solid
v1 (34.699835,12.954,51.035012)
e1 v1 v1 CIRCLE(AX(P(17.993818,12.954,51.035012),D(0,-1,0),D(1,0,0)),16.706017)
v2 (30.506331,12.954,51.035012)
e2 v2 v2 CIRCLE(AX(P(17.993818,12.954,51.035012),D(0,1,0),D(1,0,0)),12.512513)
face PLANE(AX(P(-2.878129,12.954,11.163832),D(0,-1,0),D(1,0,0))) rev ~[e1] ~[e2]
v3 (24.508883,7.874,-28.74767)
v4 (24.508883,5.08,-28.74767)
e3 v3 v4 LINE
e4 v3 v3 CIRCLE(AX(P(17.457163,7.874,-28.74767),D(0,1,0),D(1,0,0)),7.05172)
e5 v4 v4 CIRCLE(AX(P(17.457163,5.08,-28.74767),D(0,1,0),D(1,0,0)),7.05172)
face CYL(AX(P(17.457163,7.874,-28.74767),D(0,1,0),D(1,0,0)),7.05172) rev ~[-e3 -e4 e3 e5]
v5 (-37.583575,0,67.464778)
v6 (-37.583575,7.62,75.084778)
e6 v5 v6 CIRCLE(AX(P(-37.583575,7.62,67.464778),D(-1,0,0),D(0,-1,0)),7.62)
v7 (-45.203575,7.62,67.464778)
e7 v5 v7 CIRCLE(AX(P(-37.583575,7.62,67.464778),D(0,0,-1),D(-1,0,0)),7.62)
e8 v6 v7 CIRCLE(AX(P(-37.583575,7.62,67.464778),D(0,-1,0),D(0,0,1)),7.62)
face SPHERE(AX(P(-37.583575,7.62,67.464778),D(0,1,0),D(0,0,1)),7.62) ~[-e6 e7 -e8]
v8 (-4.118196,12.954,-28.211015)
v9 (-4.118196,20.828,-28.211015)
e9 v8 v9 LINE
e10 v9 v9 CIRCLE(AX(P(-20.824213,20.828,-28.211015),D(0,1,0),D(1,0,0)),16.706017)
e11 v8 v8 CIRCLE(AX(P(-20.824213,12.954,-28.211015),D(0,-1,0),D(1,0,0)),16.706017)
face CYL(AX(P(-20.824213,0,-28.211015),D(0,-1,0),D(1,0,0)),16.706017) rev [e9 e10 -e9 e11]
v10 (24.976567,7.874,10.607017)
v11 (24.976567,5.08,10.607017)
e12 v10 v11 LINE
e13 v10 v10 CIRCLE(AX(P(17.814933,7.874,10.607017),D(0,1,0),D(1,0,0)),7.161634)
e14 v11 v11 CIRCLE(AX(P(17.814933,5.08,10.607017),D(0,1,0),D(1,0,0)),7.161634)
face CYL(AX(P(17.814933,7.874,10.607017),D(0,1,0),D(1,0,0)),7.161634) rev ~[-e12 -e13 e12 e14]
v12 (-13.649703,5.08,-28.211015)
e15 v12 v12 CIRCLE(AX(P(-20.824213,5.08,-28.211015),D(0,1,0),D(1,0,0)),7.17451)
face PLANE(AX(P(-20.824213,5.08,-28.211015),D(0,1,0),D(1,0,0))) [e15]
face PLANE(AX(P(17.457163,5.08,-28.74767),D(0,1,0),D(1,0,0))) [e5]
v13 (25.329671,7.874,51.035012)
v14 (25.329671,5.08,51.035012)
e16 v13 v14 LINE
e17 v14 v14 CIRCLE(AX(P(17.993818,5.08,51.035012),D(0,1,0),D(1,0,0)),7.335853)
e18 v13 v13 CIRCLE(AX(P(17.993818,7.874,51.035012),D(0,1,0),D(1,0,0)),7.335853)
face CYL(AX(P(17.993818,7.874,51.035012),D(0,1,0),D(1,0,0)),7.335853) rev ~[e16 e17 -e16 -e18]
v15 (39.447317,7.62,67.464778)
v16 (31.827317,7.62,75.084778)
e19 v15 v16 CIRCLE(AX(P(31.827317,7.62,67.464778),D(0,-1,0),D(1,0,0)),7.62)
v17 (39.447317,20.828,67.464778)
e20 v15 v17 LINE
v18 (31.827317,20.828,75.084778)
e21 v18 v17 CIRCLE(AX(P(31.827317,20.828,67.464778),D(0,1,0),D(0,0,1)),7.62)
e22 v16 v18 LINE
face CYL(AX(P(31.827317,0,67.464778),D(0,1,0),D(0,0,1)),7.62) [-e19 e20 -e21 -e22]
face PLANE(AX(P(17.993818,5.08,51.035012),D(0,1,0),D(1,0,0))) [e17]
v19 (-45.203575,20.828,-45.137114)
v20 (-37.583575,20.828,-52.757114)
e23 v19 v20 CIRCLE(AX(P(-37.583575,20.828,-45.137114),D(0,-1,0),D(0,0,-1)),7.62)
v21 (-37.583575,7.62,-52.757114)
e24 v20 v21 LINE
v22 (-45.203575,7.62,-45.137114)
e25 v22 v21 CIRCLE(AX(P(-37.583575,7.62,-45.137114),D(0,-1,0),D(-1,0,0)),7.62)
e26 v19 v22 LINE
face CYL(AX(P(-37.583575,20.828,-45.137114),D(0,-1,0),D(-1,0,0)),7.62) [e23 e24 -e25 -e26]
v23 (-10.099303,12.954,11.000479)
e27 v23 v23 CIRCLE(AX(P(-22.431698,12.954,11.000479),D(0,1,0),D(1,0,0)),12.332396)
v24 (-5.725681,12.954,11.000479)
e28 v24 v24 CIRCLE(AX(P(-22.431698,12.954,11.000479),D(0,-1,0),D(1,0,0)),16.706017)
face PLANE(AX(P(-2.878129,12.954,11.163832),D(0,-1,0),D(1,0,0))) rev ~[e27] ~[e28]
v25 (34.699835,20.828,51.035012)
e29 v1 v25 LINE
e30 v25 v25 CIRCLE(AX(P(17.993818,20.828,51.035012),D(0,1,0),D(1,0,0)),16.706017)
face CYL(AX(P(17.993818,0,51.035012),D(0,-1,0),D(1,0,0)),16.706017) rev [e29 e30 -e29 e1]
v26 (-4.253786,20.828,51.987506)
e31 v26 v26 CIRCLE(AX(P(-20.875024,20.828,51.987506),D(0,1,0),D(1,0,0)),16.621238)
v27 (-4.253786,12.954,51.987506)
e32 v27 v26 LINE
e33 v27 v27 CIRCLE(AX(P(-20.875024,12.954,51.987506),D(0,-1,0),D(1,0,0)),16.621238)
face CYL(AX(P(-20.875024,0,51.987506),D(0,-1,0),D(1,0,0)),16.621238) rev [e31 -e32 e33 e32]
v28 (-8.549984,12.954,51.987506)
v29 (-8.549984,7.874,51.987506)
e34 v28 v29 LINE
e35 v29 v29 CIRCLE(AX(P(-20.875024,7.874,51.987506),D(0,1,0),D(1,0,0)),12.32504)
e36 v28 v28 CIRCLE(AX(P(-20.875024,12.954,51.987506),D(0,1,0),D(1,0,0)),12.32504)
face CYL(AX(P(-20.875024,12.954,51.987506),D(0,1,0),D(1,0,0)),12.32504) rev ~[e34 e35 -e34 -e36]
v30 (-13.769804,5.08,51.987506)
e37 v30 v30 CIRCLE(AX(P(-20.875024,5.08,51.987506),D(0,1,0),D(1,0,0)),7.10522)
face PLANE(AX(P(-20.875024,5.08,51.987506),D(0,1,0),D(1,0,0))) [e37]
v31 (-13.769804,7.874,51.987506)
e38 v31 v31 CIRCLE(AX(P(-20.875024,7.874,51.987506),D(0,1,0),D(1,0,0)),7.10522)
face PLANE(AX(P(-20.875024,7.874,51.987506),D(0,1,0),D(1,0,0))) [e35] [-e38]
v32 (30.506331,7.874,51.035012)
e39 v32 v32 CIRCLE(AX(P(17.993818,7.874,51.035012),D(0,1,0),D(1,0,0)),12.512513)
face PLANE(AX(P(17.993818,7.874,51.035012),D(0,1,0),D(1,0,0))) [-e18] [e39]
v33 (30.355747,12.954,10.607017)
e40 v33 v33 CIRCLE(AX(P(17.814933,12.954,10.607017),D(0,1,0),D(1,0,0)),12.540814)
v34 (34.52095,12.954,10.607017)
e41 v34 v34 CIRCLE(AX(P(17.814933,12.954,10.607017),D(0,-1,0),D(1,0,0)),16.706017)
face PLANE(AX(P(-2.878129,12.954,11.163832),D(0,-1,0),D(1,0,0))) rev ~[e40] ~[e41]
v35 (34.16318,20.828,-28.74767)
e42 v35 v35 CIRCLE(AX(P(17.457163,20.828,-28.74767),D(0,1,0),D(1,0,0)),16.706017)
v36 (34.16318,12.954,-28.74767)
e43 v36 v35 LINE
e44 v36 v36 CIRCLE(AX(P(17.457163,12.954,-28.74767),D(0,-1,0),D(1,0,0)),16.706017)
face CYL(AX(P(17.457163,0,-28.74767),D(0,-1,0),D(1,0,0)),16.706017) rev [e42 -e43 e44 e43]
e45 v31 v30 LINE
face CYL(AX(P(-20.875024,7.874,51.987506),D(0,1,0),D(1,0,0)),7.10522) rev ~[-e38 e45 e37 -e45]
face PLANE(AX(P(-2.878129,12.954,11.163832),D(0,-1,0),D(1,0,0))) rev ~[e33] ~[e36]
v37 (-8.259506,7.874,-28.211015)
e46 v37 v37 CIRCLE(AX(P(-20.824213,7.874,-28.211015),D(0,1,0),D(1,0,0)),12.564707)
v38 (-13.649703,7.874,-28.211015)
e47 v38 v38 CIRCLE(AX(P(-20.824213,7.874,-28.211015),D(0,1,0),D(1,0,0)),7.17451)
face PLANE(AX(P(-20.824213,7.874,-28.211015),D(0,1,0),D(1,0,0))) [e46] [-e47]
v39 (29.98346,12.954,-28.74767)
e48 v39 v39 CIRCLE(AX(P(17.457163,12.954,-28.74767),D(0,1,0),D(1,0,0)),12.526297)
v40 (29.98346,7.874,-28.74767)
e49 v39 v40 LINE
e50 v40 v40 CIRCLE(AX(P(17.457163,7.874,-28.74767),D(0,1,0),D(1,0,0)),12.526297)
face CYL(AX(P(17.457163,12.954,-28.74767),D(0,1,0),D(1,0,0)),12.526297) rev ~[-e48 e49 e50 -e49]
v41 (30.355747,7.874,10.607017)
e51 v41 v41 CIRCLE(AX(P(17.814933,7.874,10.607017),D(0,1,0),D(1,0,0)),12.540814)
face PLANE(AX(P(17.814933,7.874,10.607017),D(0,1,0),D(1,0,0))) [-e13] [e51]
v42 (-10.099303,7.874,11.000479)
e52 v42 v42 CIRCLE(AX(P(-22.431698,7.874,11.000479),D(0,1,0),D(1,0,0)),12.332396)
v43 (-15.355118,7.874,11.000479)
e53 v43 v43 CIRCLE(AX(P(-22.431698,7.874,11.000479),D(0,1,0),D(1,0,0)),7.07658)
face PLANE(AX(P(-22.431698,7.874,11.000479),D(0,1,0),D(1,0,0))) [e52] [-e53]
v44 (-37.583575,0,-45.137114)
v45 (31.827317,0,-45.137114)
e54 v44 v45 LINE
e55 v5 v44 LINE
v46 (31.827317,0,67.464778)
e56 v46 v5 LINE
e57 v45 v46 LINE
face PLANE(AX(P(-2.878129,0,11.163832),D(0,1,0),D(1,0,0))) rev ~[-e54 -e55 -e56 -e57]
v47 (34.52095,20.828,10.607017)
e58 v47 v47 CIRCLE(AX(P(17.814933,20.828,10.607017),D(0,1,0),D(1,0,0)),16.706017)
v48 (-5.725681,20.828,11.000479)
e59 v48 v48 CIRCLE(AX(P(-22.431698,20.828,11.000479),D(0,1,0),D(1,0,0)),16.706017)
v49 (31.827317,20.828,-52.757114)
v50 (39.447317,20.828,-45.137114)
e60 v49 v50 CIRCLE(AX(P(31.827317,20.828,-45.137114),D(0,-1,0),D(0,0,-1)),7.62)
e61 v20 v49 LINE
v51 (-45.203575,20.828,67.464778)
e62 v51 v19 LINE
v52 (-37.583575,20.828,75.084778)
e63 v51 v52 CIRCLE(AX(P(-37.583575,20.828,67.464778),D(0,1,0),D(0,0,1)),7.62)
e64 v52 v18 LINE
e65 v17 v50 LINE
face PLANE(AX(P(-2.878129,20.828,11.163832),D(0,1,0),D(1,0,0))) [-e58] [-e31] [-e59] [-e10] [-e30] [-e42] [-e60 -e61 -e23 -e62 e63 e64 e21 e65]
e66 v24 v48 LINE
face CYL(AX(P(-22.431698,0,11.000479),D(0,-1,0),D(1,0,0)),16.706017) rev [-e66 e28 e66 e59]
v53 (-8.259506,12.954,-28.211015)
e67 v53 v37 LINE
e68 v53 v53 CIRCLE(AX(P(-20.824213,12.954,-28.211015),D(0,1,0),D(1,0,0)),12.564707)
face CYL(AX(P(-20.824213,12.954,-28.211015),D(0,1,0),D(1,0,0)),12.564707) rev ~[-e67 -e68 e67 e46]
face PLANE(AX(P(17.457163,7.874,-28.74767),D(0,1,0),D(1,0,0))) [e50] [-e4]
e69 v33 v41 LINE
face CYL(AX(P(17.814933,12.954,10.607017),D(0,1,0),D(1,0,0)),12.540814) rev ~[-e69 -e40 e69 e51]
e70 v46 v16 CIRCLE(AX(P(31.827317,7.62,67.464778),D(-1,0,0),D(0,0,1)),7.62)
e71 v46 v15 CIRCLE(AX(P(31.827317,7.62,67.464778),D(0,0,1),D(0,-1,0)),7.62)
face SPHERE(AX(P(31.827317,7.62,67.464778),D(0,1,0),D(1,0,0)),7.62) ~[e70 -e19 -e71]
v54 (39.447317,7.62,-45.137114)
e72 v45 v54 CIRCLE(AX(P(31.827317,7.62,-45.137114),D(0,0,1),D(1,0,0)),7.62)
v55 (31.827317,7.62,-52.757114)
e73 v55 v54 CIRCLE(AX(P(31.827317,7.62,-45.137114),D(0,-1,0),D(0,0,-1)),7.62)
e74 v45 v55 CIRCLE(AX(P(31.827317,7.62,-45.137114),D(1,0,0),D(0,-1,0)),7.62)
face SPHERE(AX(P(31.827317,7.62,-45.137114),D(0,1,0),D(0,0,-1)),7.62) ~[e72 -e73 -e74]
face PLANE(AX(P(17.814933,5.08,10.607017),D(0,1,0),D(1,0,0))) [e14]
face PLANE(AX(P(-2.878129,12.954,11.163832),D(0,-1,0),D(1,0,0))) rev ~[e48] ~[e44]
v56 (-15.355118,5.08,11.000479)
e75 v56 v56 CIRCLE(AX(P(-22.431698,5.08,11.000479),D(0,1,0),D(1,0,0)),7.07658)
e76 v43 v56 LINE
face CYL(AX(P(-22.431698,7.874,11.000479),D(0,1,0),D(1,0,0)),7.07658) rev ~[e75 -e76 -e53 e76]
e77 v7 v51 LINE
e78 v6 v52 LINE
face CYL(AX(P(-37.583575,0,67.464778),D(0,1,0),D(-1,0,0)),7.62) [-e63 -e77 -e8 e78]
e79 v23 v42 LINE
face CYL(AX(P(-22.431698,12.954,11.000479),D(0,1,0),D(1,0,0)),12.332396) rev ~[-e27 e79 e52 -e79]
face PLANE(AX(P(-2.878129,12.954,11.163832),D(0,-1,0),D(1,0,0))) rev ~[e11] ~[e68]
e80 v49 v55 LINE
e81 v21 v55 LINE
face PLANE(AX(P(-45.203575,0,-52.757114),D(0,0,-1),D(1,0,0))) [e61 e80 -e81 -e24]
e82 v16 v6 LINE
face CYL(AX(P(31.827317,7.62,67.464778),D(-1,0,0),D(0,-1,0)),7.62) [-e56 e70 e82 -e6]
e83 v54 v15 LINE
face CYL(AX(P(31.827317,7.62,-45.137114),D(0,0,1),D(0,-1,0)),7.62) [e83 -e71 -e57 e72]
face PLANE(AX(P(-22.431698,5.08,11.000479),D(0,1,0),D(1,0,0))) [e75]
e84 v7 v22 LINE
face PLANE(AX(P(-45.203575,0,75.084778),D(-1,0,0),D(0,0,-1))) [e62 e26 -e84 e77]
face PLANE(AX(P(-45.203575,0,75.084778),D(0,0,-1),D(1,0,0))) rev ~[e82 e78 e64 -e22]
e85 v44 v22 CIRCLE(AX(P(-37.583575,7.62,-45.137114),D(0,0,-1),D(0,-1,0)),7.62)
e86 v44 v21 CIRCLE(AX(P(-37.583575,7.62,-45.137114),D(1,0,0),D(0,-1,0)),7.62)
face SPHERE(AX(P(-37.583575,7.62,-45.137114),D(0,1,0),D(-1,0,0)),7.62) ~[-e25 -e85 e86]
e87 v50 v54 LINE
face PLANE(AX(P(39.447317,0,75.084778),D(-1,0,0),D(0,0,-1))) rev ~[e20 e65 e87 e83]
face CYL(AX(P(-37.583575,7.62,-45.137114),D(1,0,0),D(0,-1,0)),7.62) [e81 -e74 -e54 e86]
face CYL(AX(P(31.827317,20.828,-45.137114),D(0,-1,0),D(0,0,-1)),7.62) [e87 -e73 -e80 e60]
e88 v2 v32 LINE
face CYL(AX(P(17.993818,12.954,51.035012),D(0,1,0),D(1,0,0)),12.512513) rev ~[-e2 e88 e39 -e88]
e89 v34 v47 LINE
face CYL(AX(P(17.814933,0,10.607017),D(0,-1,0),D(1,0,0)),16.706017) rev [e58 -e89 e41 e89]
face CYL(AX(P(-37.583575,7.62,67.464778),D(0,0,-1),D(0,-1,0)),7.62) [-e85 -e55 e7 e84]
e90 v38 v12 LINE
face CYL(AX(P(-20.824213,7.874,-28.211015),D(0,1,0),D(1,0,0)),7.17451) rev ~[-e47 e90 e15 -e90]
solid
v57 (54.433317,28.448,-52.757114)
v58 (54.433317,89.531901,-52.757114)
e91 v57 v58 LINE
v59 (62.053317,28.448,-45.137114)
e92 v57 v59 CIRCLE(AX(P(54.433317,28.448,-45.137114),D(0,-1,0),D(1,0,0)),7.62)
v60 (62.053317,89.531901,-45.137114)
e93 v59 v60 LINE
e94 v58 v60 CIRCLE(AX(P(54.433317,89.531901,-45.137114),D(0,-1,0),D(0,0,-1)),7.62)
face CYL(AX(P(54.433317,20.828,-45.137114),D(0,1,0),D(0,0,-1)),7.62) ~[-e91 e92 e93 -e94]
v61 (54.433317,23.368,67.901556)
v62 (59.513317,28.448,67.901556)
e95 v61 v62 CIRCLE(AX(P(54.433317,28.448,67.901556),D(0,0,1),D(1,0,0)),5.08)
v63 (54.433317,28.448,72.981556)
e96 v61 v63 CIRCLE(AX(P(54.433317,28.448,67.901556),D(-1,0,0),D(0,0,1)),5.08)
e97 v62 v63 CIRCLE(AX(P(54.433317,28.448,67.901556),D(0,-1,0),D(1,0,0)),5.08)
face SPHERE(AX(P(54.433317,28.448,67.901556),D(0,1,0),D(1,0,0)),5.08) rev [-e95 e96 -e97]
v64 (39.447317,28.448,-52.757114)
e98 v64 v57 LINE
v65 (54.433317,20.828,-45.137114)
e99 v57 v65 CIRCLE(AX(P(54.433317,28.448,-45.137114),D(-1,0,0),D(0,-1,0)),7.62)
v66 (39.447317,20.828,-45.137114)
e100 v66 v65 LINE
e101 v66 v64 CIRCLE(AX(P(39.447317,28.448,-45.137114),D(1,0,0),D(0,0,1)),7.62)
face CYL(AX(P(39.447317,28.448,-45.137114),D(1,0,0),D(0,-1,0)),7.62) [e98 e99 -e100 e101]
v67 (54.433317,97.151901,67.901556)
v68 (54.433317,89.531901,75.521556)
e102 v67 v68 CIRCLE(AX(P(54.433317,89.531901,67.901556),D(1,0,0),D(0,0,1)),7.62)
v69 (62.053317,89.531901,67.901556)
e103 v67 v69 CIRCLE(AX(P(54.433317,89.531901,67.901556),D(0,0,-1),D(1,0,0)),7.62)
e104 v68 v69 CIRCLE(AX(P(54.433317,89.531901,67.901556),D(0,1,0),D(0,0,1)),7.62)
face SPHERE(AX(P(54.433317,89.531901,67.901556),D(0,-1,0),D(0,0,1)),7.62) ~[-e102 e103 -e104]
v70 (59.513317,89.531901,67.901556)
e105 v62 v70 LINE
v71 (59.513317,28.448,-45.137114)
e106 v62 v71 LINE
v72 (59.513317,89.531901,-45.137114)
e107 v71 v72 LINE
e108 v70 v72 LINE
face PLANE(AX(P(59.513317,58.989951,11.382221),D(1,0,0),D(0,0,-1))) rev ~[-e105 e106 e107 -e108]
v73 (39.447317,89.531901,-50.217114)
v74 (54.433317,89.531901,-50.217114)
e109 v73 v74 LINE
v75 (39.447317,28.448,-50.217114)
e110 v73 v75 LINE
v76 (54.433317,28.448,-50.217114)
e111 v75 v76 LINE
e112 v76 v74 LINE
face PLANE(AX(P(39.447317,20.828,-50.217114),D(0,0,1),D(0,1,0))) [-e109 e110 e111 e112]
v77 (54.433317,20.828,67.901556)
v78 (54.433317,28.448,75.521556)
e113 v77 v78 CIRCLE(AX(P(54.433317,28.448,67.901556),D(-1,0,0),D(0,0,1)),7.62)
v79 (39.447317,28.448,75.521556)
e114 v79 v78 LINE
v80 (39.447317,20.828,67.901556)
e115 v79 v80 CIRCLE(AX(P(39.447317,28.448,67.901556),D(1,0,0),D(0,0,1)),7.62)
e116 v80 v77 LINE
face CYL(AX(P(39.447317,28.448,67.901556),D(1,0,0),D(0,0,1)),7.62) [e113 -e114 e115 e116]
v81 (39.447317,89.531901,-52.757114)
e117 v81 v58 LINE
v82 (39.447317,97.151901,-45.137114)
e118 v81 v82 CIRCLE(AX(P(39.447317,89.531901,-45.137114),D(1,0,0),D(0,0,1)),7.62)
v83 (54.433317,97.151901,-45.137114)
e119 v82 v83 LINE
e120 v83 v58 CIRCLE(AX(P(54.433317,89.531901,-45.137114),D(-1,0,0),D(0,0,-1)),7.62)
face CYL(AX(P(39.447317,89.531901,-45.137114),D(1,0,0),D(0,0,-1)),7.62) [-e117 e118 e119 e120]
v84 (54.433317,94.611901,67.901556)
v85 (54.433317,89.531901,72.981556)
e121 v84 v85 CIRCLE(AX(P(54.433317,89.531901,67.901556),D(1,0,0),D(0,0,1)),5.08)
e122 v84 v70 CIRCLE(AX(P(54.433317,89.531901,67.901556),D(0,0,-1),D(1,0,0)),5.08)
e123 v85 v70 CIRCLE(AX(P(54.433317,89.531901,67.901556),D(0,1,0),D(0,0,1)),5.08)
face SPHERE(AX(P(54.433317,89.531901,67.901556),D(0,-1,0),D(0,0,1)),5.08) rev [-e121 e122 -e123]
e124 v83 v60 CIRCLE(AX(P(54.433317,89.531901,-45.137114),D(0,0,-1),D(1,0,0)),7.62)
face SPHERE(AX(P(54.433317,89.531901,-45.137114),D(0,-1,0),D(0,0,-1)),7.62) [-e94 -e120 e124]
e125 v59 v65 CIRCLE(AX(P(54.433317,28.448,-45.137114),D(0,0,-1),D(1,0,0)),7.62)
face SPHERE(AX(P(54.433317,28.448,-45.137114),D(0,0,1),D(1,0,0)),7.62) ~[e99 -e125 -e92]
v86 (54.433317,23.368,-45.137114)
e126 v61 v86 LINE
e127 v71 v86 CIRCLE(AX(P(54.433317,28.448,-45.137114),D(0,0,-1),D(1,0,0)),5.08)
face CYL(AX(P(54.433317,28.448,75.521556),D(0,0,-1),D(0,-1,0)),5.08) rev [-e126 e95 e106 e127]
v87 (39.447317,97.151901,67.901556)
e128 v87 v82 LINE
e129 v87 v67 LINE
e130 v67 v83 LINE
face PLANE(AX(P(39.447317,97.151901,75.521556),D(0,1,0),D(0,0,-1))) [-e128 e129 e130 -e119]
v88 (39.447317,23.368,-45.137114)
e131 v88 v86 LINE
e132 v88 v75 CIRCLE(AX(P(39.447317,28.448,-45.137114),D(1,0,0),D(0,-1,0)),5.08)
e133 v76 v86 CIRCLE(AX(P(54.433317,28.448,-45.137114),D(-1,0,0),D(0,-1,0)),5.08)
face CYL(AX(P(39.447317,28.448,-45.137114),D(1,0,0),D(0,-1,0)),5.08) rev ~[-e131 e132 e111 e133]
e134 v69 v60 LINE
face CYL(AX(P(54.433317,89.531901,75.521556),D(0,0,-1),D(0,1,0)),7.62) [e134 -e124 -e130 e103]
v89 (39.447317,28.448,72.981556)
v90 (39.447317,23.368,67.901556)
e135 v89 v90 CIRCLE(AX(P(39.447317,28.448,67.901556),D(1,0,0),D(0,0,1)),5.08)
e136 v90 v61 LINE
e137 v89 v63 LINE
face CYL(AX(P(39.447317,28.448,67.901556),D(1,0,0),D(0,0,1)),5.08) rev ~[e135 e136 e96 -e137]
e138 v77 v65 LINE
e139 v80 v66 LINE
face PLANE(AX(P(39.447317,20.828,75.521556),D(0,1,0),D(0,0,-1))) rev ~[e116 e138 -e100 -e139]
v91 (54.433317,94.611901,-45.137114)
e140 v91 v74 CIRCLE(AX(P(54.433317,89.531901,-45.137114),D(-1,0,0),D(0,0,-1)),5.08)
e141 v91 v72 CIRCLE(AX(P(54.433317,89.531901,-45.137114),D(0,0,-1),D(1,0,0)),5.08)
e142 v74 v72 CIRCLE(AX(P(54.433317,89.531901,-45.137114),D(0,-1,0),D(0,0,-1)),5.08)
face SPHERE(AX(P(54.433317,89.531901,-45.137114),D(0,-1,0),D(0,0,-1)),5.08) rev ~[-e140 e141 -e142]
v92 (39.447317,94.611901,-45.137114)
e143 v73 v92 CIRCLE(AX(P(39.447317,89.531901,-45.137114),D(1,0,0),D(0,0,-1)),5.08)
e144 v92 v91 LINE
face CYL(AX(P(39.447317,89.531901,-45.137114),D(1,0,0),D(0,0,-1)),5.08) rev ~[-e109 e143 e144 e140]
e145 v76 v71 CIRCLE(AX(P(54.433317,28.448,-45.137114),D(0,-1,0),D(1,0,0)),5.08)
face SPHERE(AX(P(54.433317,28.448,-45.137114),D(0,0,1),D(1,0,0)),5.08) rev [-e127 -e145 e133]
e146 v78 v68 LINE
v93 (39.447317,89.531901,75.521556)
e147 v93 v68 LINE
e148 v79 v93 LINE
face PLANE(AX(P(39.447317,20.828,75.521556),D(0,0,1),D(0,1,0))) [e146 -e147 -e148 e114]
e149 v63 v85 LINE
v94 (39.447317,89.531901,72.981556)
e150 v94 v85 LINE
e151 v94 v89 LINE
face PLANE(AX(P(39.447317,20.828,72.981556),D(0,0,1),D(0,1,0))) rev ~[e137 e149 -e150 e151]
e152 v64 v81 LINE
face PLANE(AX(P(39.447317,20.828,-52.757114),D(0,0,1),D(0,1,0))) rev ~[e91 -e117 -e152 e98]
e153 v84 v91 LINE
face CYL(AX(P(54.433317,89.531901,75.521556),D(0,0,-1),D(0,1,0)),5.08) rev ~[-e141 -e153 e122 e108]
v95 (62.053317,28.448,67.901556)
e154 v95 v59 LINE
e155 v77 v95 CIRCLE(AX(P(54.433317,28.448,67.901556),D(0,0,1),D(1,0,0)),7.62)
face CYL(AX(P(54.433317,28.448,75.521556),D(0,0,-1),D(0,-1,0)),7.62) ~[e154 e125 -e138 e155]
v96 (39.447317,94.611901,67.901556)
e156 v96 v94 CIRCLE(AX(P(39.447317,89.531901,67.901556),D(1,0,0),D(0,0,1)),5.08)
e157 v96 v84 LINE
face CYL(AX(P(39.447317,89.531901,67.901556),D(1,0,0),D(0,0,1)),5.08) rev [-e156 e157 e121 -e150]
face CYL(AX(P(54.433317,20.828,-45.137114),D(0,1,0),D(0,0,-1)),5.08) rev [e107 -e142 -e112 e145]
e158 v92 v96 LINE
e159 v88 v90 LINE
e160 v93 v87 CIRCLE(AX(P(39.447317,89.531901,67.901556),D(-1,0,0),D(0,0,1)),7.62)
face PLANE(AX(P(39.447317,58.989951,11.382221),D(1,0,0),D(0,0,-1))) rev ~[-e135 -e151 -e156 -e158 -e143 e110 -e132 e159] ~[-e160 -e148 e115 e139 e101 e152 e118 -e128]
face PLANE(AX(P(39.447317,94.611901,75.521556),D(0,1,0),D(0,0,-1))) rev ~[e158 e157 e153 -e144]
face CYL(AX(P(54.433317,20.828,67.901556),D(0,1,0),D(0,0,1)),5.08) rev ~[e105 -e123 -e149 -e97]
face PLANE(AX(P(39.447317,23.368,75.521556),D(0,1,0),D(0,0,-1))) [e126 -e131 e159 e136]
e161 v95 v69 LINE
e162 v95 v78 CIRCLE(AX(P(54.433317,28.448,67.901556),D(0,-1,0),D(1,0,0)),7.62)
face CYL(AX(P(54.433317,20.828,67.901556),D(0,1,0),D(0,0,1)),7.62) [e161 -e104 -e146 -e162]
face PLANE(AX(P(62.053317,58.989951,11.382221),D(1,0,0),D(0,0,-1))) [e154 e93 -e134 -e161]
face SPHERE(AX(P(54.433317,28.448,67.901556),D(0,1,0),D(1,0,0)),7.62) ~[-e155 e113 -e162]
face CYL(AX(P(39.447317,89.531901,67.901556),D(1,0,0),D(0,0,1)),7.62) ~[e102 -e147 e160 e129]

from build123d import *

# Parameters (mm, degrees)
SKETCH1_W           = 84.650892634
SKETCH1_H           = 127.841891795
SKETCH1_R           = 16.706017138
SKETCH1_R_2         = 16.621238302
BOSS_EXTRUDE3_DEPTH = 20.828
SKETCH3_W           = 84.650892634
SKETCH3_H           = 127.841891795
BOSS_EXTRUDE4_DEPTH = 12.954
SKETCH4_R           = 12.540814035
SKETCH4_R_2         = 12.526296714
SKETCH4_R_3         = 12.564707055
SKETCH4_R_4         = 12.325039909
SKETCH4_R_5         = 12.332395729
SKETCH4_R_6         = 12.512513451
CUT_EXTRUDE1_DEPTH  = 5.08
SKETCH5_R           = 7.17451022
SKETCH5_R_2         = 7.161633978
SKETCH5_R_3         = 7.051719989
SKETCH5_R_4         = 7.07658049
SKETCH5_R_5         = 7.105219729
SKETCH5_R_6         = 7.335853032
CUT_EXTRUDE2_DEPTH  = 2.794
FILLET4_R           = 7.62
FILLET5_R           = 7.62
SKETCH6_W           = 128.278670116
SKETCH6_H           = 76.323901273
BOSS_EXTRUDE5_DEPTH = 22.606
FILLET6_R           = 7.62
SHELL1_T            = -2.54


with BuildPart() as part:
    # Sketch1 → Boss-Extrude3 (new body)
    with BuildSketch(Plane(origin=(0, 0, 0), x_dir=(1, 0, 0), z_dir=(0, 1, 0))):
        with Locations((-2.878129168, -11.163832012)):
            Rectangle(SKETCH1_W, SKETCH1_H)
        with Locations((-22.431698426, -11.000478916)):
            Circle(SKETCH1_R, mode=Mode.SUBTRACT)
        with Locations((17.993817947, -51.035012313)):
            Circle(SKETCH1_R, mode=Mode.SUBTRACT)
        with Locations((-20.875024015, -51.987506281)):
            Circle(SKETCH1_R_2, mode=Mode.SUBTRACT)
        with Locations((17.457163136, 28.74766961)):
            Circle(SKETCH1_R, mode=Mode.SUBTRACT)
        with Locations((17.81493301, -10.60701654)):
            Circle(SKETCH1_R, mode=Mode.SUBTRACT)
        with Locations((-20.824213392, 28.211014799)):
            Circle(SKETCH1_R, mode=Mode.SUBTRACT)
    extrude(amount=BOSS_EXTRUDE3_DEPTH)

    # Sketch3 → Boss-Extrude4 (add)
    with BuildSketch(Plane.XZ):
        with Locations((-2.878129168, 11.163832012)):
            Rectangle(SKETCH3_W, SKETCH3_H)
    extrude(amount=-BOSS_EXTRUDE4_DEPTH)

    # Sketch4 → Cut-Extrude1 (cut)
    with BuildSketch(Plane(origin=(0, 12.954, 0), x_dir=(1, 0, 0), z_dir=(0, 1, 0))):
        with Locations((17.81493301, -10.60701654)):
            Circle(SKETCH4_R)
        with Locations((17.457163136, 28.74766961)):
            Circle(SKETCH4_R_2)
        with Locations((-20.824213392, 28.211014799)):
            Circle(SKETCH4_R_3)
        with Locations((-20.875024015, -51.987506281)):
            Circle(SKETCH4_R_4)
        with Locations((-22.431698426, -11.000478916)):
            Circle(SKETCH4_R_5)
        with Locations((17.993817947, -51.035012313)):
            Circle(SKETCH4_R_6)
    extrude(amount=-CUT_EXTRUDE1_DEPTH, mode=Mode.SUBTRACT)

    # Sketch5 → Cut-Extrude2 (cut)
    with BuildSketch(Plane(origin=(0, 7.874, 0), x_dir=(1, 0, 0), z_dir=(0, 1, 0))):
        with Locations((-20.824213392, 28.211014799)):
            Circle(SKETCH5_R)
        with Locations((17.81493301, -10.60701654)):
            Circle(SKETCH5_R_2)
        with Locations((17.457163136, 28.74766961)):
            Circle(SKETCH5_R_3)
        with Locations((-22.431698426, -11.000478916)):
            Circle(SKETCH5_R_4)
        with Locations((-20.875024015, -51.987506281)):
            Circle(SKETCH5_R_5)
        with Locations((17.993817947, -51.035012313)):
            Circle(SKETCH5_R_6)
    extrude(amount=-CUT_EXTRUDE2_DEPTH, mode=Mode.SUBTRACT)

    # Fillet4
    fillet4_edges = [part.edges().sort_by_distance(p)[0] for p in [
        (-45.203575485, 10.414, -52.757113885),
        (-45.203575485, 10.414, 75.08477791),
        (39.447317149, 10.414, 75.08477791),
        (39.447317149, 10.414, -52.757113885),
    ]]
    fillet(fillet4_edges, radius=FILLET4_R)

    # Fillet5
    fillet5_edges = [part.edges().sort_by_distance(p)[0] for p in [
        (-2.878129168, 0, -52.757113885),
        (39.447317149, 0, 11.163832012),
        (-2.878129168, 0, 75.08477791),
        (-45.203575485, 0, 11.163832012),
        (37.215470822, 0, 72.852931583),
        (-42.971729158, 0, 72.852931583),
        (-42.971729158, 0, -50.525267558),
        (37.215470822, 0, -50.525267558),
    ]]
    fillet(fillet5_edges, radius=FILLET5_R)


with BuildPart() as body_2:
    # Sketch6 → Boss-Extrude5 (new body)
    with BuildSketch(Plane(origin=(39.447317149, 0, 0), x_dir=(0, 0, -1), z_dir=(1, 0, 0))):
        with Locations((-11.382221173, 58.989950637)):
            Rectangle(SKETCH6_W, SKETCH6_H)
    extrude(amount=BOSS_EXTRUDE5_DEPTH)

    # Fillet6
    fillet6_edges = [body_2.edges().sort_by_distance(p)[0] for p in [
        (62.053317149, 58.989950637, 75.521556231),
        (62.053317149, 20.828, 11.382221173),
        (62.053317149, 58.989950637, -52.757113885),
        (50.750317149, 20.828, -52.757113885),
        (50.750317149, 20.828, 75.521556231),
        (50.750317149, 97.151901273, 75.521556231),
        (50.750317149, 97.151901273, -52.757113885),
        (62.053317149, 97.151901273, 11.382221173),
    ]]
    fillet(fillet6_edges, radius=FILLET6_R)

    # Shell1
    shell1_openings = [body_2.faces().sort_by_distance(p)[0] for p in [
        (39.447317149, 58.989950637, 11.382221173),
    ]]
    offset(amount=SHELL1_T, openings=shell1_openings, kind=Kind.INTERSECTION)


solid = Compound([part.part, body_2.part])
